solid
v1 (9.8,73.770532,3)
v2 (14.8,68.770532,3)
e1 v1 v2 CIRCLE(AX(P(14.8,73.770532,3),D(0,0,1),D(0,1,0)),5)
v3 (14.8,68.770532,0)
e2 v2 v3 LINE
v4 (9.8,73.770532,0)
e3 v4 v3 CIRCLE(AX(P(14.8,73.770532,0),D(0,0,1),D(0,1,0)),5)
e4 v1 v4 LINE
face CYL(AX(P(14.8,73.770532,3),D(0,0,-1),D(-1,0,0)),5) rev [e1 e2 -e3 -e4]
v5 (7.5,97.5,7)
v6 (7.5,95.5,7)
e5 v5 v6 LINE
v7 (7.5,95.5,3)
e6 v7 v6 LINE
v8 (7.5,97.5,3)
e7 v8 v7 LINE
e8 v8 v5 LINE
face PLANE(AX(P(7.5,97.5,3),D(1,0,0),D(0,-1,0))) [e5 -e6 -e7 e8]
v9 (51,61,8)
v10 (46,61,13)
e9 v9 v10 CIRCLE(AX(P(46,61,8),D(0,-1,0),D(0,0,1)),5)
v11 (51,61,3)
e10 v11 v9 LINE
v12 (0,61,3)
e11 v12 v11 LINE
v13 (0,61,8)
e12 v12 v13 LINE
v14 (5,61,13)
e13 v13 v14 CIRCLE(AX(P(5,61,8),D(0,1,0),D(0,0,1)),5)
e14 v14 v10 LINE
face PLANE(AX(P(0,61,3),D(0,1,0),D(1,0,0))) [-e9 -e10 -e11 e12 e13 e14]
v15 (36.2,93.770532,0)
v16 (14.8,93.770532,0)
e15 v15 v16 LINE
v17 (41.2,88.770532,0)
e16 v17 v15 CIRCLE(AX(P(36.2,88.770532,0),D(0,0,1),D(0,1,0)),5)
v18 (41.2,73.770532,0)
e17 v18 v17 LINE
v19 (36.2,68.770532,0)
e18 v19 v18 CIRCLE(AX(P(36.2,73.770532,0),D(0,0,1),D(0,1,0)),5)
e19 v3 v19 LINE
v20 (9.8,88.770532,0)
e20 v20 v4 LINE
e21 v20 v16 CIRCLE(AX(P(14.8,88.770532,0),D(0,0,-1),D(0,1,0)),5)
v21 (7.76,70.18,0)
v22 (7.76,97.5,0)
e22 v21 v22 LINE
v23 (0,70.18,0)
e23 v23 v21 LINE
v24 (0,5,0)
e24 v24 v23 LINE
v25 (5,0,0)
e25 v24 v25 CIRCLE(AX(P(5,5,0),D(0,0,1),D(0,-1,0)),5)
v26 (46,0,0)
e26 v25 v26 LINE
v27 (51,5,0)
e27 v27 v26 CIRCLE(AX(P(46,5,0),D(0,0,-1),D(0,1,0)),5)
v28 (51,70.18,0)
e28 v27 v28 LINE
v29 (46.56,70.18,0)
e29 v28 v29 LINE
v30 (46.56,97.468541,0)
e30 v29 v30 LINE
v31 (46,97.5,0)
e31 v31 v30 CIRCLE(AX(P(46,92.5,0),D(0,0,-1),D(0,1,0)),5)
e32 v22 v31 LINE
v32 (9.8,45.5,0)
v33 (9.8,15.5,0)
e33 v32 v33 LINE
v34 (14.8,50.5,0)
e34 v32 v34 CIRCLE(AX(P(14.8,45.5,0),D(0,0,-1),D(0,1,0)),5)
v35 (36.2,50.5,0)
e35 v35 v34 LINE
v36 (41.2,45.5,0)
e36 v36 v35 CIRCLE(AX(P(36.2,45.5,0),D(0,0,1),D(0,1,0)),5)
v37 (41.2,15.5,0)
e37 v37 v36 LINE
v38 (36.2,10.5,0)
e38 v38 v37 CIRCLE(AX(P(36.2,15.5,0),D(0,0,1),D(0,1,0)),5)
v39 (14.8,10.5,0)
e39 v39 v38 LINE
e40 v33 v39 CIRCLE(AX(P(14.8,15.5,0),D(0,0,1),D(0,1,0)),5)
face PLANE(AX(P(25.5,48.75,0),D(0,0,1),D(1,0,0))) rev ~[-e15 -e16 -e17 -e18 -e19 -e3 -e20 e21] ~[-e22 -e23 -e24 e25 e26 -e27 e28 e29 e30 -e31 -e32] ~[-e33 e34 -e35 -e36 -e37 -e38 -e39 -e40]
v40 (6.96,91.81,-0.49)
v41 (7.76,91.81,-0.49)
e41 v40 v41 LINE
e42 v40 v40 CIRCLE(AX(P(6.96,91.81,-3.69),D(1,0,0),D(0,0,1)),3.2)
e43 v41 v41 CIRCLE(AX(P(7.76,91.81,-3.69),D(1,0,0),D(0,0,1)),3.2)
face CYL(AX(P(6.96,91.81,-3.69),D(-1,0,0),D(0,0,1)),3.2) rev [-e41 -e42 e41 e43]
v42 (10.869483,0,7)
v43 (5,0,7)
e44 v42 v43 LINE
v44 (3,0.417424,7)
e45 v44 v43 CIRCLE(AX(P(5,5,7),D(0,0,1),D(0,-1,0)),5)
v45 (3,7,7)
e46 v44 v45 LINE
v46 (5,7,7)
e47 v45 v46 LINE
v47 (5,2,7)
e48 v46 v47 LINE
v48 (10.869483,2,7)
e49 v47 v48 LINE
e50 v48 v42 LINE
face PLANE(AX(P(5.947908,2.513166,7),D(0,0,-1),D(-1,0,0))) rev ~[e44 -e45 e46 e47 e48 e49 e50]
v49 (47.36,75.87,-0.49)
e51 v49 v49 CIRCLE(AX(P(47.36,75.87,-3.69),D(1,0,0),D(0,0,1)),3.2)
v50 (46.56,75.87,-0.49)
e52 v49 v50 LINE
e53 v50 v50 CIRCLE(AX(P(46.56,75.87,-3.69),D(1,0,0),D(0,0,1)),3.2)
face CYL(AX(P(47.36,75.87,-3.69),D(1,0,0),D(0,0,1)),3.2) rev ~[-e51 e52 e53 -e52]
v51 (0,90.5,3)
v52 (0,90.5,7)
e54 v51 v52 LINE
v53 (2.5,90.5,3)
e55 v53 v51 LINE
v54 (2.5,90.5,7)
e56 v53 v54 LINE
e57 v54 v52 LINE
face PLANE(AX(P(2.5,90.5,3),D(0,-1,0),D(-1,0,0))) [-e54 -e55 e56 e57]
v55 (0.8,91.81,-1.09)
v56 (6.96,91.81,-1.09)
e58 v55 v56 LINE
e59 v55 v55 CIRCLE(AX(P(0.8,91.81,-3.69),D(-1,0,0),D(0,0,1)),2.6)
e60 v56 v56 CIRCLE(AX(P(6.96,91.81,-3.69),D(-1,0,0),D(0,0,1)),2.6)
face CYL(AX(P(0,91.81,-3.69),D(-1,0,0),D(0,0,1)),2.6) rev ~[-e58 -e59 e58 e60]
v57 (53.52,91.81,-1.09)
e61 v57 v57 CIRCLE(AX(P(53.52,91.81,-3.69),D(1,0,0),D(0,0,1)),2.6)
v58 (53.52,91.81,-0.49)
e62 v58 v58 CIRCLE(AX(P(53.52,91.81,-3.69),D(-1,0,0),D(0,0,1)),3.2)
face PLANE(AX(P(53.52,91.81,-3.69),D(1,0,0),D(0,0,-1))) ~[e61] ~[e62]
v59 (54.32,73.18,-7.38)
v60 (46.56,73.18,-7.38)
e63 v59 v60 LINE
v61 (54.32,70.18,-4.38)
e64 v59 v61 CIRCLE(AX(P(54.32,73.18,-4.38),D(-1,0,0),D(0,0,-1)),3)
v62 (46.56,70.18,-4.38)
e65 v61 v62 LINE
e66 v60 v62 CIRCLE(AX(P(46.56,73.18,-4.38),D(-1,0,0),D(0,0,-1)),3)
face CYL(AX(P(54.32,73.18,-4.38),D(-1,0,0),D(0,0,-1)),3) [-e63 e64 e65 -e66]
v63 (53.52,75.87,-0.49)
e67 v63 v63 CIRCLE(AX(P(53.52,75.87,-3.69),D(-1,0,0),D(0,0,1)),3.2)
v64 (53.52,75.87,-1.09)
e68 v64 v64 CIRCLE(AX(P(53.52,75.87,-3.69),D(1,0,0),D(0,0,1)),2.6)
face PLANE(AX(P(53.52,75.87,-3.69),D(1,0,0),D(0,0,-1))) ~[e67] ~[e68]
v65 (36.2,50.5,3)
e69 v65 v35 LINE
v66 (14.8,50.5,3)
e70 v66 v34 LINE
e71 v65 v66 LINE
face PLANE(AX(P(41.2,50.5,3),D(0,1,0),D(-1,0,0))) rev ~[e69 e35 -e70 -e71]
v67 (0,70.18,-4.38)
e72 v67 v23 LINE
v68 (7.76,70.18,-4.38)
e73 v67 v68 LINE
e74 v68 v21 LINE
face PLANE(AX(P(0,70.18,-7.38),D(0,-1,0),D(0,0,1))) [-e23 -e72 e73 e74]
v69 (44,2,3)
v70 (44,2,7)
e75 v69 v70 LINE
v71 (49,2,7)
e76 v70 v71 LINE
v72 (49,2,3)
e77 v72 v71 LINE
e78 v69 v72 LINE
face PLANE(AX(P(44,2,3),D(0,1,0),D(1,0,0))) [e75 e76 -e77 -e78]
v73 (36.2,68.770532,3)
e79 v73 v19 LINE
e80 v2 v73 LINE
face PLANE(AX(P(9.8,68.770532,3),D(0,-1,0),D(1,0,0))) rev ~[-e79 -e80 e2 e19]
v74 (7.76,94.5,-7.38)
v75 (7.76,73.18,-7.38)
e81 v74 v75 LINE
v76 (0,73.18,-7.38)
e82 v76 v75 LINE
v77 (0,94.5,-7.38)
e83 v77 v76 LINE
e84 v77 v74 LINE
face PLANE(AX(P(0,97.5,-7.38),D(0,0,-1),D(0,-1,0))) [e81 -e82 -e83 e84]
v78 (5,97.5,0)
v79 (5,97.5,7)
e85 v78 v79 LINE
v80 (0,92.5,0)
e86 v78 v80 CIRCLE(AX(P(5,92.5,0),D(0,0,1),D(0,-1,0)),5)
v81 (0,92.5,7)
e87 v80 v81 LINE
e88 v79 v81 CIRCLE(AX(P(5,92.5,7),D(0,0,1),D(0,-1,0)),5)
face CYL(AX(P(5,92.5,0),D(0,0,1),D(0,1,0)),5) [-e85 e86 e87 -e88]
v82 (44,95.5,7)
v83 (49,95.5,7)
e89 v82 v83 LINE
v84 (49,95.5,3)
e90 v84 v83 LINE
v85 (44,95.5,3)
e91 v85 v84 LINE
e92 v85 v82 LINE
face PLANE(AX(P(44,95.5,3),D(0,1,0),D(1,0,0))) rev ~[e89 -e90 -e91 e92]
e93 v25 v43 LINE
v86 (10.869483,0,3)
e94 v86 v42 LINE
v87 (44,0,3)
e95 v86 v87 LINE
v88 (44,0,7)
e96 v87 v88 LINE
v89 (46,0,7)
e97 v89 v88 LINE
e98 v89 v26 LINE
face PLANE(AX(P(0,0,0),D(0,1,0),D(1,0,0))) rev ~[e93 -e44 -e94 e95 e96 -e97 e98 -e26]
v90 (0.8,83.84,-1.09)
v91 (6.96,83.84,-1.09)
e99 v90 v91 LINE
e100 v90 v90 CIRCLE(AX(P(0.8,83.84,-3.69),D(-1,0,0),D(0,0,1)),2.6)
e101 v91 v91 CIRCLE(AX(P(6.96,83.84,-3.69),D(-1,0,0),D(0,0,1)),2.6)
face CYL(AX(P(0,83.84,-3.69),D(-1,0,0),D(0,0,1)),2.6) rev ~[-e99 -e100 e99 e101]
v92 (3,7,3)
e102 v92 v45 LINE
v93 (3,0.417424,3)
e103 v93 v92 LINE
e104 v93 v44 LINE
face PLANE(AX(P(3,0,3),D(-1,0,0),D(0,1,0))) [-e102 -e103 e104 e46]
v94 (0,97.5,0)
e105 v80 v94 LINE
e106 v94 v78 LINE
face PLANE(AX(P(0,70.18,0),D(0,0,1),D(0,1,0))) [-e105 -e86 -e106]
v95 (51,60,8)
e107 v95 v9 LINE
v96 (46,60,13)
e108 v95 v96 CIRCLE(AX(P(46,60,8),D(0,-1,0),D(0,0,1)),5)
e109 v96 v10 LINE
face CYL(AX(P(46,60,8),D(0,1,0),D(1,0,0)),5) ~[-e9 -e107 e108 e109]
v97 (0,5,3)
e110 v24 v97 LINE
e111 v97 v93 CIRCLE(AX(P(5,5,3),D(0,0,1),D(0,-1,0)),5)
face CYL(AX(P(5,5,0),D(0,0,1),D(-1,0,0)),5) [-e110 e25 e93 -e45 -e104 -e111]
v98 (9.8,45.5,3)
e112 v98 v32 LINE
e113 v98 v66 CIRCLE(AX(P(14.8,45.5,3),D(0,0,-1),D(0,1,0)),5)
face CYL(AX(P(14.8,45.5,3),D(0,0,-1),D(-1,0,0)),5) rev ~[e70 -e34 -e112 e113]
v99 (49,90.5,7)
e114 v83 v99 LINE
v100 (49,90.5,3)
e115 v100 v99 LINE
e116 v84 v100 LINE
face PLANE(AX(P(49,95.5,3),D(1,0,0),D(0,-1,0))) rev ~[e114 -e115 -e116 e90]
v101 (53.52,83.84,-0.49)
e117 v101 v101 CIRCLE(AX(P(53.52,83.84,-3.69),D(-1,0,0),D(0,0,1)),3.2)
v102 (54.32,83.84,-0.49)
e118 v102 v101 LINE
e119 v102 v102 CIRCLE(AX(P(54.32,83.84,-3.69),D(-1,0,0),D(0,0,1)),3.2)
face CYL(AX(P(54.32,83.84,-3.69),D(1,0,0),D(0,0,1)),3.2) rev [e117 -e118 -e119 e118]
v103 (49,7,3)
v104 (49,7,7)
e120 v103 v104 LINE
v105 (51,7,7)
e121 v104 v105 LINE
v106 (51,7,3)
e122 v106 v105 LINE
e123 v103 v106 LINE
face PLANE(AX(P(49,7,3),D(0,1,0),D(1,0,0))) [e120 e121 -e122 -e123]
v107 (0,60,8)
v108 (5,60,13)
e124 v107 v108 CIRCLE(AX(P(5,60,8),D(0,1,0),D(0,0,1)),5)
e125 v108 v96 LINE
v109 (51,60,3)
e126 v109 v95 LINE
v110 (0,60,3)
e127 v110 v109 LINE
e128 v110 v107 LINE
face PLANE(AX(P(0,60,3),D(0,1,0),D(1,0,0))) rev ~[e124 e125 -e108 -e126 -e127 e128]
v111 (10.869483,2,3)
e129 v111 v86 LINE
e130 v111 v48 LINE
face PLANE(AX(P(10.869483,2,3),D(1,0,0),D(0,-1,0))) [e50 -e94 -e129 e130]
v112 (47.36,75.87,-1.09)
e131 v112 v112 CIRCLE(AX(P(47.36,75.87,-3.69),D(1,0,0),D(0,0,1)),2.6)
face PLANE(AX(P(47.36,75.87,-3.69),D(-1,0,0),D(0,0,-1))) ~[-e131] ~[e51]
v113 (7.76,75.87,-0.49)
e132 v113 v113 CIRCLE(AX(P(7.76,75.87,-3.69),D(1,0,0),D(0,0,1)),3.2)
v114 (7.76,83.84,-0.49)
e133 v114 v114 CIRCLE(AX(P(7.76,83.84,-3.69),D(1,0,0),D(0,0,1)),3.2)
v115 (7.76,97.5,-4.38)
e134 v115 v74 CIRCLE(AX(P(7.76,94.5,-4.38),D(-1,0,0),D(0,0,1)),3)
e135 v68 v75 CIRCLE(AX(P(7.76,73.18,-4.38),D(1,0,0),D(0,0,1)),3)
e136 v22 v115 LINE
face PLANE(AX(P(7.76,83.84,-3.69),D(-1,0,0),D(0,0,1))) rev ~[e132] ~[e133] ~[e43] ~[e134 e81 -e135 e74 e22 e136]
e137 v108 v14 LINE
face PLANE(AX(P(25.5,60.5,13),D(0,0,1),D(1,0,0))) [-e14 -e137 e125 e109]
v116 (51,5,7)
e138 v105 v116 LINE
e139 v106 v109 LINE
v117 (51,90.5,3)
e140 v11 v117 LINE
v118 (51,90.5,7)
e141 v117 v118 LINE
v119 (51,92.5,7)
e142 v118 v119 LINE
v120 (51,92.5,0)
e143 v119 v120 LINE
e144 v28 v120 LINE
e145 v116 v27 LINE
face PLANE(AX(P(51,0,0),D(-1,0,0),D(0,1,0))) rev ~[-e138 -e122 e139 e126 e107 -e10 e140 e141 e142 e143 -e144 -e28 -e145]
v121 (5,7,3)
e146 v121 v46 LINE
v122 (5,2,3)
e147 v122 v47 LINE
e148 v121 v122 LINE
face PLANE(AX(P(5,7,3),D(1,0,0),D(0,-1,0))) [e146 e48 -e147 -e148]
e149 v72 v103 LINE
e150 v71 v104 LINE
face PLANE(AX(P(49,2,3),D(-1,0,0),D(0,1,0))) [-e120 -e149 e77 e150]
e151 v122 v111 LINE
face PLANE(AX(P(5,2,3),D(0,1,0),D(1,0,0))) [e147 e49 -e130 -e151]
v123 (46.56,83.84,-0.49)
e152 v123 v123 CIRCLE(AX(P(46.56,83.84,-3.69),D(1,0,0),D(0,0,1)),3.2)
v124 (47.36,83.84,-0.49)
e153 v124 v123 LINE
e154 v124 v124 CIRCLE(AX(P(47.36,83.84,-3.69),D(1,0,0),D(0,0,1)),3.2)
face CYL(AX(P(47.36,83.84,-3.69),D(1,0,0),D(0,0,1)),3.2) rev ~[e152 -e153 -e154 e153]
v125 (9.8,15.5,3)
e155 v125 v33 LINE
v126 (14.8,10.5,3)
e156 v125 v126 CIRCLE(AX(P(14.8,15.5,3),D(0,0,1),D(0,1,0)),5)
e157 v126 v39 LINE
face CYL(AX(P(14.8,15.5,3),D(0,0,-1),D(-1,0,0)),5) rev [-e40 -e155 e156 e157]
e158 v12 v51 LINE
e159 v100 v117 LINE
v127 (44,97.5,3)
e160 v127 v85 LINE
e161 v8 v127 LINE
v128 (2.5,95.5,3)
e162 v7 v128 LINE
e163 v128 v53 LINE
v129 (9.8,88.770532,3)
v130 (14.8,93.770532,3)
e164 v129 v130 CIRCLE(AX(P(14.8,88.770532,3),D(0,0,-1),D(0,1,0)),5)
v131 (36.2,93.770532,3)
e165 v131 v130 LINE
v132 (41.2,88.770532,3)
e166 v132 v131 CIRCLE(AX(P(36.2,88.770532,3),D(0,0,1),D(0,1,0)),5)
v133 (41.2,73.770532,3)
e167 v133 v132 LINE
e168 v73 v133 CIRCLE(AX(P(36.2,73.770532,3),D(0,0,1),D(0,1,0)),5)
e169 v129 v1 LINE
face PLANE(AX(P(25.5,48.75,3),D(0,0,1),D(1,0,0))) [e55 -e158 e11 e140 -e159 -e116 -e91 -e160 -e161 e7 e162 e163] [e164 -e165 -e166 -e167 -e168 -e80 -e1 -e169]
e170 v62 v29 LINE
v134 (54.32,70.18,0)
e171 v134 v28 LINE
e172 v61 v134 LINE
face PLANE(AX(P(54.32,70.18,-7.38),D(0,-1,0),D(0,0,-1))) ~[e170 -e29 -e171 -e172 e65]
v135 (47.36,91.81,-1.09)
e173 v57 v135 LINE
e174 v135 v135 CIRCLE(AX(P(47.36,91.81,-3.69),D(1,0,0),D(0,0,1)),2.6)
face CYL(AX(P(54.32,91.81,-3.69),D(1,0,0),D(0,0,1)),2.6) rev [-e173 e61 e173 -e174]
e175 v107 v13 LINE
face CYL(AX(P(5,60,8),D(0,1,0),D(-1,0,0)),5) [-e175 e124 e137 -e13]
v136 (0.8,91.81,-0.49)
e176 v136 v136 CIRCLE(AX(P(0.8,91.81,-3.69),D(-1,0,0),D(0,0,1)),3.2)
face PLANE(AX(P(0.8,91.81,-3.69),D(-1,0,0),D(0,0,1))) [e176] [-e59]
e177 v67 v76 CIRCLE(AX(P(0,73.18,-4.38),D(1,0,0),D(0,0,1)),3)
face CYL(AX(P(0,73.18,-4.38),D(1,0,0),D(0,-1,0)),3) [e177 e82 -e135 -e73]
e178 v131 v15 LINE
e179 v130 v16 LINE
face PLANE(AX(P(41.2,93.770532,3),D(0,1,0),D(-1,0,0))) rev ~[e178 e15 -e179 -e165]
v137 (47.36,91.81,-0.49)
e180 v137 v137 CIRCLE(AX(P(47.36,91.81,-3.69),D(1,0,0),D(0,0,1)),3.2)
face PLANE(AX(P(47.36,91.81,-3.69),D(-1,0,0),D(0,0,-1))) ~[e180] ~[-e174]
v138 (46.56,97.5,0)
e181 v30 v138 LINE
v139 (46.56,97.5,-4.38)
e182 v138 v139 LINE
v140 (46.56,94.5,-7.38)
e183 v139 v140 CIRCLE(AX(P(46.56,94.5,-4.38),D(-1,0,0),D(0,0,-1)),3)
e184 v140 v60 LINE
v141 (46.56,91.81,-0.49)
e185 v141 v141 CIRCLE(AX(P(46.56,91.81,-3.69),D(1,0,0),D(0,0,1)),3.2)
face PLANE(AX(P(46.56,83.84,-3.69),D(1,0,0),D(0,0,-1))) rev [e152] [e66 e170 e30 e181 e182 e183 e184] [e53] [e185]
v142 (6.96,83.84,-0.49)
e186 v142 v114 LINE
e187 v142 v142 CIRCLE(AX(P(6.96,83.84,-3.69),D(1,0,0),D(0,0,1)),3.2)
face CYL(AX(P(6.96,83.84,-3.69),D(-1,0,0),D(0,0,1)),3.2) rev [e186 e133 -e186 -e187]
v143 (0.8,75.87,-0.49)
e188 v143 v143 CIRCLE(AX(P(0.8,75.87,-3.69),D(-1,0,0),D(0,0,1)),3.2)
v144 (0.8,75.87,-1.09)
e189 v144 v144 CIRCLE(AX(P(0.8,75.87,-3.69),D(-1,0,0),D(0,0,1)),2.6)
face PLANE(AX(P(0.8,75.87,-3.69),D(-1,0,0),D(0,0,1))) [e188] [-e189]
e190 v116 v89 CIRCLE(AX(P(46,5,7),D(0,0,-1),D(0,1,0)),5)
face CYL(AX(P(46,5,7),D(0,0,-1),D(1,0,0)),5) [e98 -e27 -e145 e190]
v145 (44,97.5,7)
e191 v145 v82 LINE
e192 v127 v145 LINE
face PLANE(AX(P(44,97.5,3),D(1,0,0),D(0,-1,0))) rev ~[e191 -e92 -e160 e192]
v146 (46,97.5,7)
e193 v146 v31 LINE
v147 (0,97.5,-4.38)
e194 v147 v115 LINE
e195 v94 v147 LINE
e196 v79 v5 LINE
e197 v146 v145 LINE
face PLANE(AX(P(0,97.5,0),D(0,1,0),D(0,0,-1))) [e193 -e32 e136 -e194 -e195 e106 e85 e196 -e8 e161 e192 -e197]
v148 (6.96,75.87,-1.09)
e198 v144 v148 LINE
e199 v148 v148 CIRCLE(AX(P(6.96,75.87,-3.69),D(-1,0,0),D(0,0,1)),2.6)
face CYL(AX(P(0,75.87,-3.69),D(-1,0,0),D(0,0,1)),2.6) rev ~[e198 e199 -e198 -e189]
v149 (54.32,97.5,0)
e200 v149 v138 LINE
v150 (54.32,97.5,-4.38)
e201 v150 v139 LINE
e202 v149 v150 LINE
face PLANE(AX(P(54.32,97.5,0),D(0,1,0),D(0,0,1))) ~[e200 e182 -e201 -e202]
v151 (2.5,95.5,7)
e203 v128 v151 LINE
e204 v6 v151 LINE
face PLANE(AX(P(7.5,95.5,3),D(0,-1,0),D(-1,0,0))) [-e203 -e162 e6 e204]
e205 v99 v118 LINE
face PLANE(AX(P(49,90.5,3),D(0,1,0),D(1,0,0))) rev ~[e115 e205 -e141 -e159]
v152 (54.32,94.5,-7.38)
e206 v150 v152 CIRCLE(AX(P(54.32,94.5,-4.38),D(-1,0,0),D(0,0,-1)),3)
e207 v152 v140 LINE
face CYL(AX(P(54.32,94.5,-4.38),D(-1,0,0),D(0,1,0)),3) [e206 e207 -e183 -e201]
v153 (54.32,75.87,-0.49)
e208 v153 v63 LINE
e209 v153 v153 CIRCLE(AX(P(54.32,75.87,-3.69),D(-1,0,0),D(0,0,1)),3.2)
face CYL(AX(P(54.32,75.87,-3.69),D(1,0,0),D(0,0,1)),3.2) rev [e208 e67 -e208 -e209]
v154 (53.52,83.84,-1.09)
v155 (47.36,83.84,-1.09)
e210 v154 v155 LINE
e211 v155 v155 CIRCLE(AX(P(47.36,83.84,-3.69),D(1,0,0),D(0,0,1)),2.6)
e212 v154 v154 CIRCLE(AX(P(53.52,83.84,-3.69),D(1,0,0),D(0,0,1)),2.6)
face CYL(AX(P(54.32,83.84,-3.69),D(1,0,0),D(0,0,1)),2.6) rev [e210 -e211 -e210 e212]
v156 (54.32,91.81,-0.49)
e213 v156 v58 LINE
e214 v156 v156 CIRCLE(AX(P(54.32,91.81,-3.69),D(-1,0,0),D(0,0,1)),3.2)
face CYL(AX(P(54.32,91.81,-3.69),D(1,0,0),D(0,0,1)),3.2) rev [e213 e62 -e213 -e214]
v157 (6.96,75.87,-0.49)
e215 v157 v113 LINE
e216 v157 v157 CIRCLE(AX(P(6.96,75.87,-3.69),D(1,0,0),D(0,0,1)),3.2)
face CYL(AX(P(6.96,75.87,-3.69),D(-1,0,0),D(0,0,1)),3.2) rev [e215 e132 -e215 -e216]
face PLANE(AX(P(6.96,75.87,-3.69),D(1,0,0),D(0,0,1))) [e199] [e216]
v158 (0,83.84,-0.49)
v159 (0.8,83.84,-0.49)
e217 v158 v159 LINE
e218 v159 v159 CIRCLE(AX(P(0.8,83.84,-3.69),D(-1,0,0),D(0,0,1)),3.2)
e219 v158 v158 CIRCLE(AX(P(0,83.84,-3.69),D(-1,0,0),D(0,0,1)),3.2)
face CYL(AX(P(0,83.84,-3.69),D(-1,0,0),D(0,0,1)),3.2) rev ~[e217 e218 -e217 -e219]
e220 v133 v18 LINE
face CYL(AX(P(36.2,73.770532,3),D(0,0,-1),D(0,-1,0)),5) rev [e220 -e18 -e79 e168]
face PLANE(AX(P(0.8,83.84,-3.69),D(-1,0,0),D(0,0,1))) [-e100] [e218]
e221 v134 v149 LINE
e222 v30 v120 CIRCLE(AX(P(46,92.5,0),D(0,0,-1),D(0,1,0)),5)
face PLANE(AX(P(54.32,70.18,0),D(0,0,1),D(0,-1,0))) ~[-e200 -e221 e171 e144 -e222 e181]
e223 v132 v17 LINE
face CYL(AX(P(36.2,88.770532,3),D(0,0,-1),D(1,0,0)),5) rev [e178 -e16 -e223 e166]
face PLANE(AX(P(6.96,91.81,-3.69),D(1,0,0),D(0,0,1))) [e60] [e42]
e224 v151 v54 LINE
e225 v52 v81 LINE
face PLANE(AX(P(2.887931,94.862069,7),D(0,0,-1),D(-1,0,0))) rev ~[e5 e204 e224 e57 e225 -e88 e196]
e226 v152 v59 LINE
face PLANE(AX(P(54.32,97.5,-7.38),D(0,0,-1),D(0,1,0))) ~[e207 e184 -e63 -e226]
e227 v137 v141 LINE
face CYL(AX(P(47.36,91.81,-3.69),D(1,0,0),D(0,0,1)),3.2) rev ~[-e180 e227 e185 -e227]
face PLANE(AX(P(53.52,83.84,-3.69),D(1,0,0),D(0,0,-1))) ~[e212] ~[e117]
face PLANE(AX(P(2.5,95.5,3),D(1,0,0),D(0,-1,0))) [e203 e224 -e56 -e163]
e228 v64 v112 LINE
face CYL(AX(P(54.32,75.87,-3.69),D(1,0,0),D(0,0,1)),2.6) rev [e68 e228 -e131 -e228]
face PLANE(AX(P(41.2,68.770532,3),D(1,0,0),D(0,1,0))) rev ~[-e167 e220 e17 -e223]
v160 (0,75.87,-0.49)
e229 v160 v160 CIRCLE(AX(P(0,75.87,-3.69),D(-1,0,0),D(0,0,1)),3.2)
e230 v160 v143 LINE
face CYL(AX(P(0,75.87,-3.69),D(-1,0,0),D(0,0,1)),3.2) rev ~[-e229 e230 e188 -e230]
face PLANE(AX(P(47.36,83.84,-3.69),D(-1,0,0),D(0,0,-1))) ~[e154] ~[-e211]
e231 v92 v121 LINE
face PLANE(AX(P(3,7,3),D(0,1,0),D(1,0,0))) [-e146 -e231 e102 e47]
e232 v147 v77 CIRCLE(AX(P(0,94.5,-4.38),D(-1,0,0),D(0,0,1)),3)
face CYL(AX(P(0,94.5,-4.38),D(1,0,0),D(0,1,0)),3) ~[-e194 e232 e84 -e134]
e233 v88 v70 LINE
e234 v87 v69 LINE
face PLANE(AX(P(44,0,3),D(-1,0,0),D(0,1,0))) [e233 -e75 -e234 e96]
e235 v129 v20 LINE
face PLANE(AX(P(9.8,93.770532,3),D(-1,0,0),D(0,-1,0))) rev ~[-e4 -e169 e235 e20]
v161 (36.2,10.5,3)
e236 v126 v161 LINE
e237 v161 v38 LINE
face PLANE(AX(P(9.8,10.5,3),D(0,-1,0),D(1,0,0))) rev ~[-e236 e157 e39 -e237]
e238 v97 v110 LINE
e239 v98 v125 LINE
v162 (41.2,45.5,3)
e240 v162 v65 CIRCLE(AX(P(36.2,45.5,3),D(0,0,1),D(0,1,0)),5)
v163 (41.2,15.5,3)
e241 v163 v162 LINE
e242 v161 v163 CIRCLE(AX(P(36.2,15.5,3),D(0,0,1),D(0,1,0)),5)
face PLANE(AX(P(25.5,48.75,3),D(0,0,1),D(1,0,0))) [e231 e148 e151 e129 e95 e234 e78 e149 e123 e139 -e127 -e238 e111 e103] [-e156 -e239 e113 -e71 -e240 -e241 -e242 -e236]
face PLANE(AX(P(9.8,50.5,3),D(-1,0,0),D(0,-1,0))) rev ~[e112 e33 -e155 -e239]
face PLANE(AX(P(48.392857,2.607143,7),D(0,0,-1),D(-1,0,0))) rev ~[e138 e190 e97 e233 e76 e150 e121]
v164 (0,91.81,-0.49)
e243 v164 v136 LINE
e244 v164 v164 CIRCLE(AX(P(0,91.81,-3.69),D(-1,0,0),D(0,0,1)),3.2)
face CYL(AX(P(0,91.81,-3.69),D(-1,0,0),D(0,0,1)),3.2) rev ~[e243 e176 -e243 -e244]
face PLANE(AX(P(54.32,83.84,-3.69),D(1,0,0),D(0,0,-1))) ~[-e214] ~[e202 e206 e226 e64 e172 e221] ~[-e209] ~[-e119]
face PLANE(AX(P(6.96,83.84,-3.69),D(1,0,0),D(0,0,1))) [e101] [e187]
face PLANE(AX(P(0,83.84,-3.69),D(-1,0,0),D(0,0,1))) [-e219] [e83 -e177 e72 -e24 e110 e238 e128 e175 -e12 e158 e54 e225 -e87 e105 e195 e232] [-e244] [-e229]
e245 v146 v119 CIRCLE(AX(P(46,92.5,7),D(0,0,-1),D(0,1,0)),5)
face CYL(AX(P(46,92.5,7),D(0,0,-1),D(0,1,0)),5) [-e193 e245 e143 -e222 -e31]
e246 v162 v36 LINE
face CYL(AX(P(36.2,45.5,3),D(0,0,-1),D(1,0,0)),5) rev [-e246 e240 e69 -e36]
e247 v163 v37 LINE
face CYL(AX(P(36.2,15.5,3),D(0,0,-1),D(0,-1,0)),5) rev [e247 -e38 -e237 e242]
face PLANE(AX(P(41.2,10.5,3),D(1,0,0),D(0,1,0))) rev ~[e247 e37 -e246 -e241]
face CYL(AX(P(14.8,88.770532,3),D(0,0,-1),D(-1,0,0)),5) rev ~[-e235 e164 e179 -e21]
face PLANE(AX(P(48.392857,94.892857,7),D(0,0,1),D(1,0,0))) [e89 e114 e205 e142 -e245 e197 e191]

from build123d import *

# Parameters (mm, degrees)
SKETCH1_W           = 51
SKETCH1_H           = 97.5
BOSS_EXTRUDE2_DEPTH = 3
BOSS_EXTRUDE3_DEPTH = 4
BOSS_EXTRUDE4_DEPTH = 4
SKETCH5_W           = 51
SKETCH5_H           = 1
BOSS_EXTRUDE5_DEPTH = 10
CUT_EXTRUDE1_DEPTH  = 10
FILLET1_R           = 5
SKETCH8_R           = 2.6
BOSS_EXTRUDE6_DEPTH = 7.76
SKETCH9_R           = 3.2
CUT_EXTRUDE2_DEPTH  = 0.8
CUT_EXTRUDE3_START  = -0.8
SKETCH10_R          = 3.2
CUT_EXTRUDE3_DEPTH  = 0.8
FILLET2_R           = 3


with BuildPart() as part:
    # Sketch1 → Boss-Extrude2 (new body)
    with BuildSketch(Plane.XY):
        with Locations((25.5, 48.75)):
            Rectangle(SKETCH1_W, SKETCH1_H)
    extrude(amount=BOSS_EXTRUDE2_DEPTH)

    # Sketch3 → Boss-Extrude3 (add)
    with BuildSketch(Plane.XY.offset(3)):
        Polygon((0, 97.5), (7.5, 97.5), (7.5, 95.5), (2.5, 95.5), (2.5, 90.5), (0, 90.5), align=None)
        Polygon((51, 97.5), (44, 97.5), (44, 95.5), (49, 95.5), (49, 90.5), (51, 90.5), align=None)
        Polygon((51, 0), (44, 0), (44, 2), (49, 2), (49, 7), (51, 7), align=None)
    extrude(amount=BOSS_EXTRUDE3_DEPTH)

    # Sketch4 → Boss-Extrude4 (add)
    with BuildSketch(Plane.XY.offset(3)):
        Polygon((3, 0), (3, 7), (5, 7), (5, 2), (10.869482621, 2), (10.869482621, 0), align=None)
    extrude(amount=BOSS_EXTRUDE4_DEPTH)

    # Sketch5 → Boss-Extrude5 (add)
    with BuildSketch(Plane.XY.offset(3)):
        with Locations((25.5, 60.5)):
            Rectangle(SKETCH5_W, SKETCH5_H)
    extrude(amount=BOSS_EXTRUDE5_DEPTH)

    # Sketch6 → Cut-Extrude1 (cut)
    with BuildSketch(Plane.XY.offset(3)):
        Polygon((39.8, 93.770532131), (9.8, 93.770532131), (9.8, 68.770532131), (41.2, 68.770532131), (41.2, 93.770532131), align=None)
        Polygon((39.8, 50.5), (9.8, 50.5), (9.8, 10.5), (41.2, 10.5), (41.2, 50.5), align=None)
    extrude(amount=-CUT_EXTRUDE1_DEPTH, mode=Mode.SUBTRACT)

    # Fillet1
    fillet1_edges = [part.edges().sort_by_distance(p)[0] for p in [
        (0, 60.5, 13),
        (51, 60.5, 13),
        (9.8, 50.5, 1.5),
        (9.8, 93.770532131, 1.5),
        (41.2, 93.770532131, 1.5),
        (41.2, 10.5, 1.5),
        (9.8, 10.5, 1.5),
        (41.2, 50.5, 1.5),
        (51, 0, 3.5),
        (51, 97.5, 3.5),
        (0, 97.5, 3.5),
        (9.8, 68.770532131, 1.5),
        (41.2, 68.770532131, 1.5),
        (0, 0, 1.5),
    ]]
    fillet(fillet1_edges, radius=FILLET1_R)

    # Sketch8 → Boss-Extrude6 (add)
    with BuildSketch(Plane.ZY):
        Polygon((0, 81.56), (0, 89.53), (0, 92.5), (0, 97.5), (-7.38, 97.5), (-7.38, 70.18), (0, 70.18), align=None)
        with Locations((-3.69, 75.87)):
            Circle(SKETCH8_R, mode=Mode.SUBTRACT)
        with Locations((-3.69, 91.81)):
            Circle(SKETCH8_R, mode=Mode.SUBTRACT)
        with Locations((-3.69, 83.84)):
            Circle(SKETCH8_R, mode=Mode.SUBTRACT)
    boss_extrude6 = extrude(amount=-BOSS_EXTRUDE6_DEPTH)

    # Sketch9 → Cut-Extrude2 (cut)
    with BuildSketch(Plane.ZY):
        with Locations((-3.69, 91.81)):
            Circle(SKETCH9_R)
        with Locations((-3.69, 83.84)):
            Circle(SKETCH9_R)
        with Locations((-3.69, 75.87)):
            Circle(SKETCH9_R)
    cut_extrude2 = extrude(amount=-CUT_EXTRUDE2_DEPTH, mode=Mode.SUBTRACT)

    # Sketch10 → Cut-Extrude3 (cut)
    with BuildSketch(Plane(origin=(7.76, 0, 0), x_dir=(0, 0, -1), z_dir=(1, 0, 0)).offset(CUT_EXTRUDE3_START)):
        with Locations(Location((3.69, 91.81, 0), (0, 0, 180))):
            Circle(SKETCH10_R)
        with Locations(Location((3.69, 83.84, 0), (0, 0, 180))):
            Circle(SKETCH10_R)
        with Locations(Location((3.69, 75.87, 0), (0, 0, 180))):
            Circle(SKETCH10_R)
    cut_extrude3 = extrude(amount=CUT_EXTRUDE3_DEPTH, mode=Mode.SUBTRACT)

    # Mirror2: Boss-Extrude6, Cut-Extrude2, Cut-Extrude3 across plane
    add(boss_extrude6.mirror(Plane(origin=(27.16, 0, 0), x_dir=(0, 0, 1), z_dir=(1, 0, 0))))
    add(cut_extrude2.mirror(Plane(origin=(27.16, 0, 0), x_dir=(0, 0, 1), z_dir=(1, 0, 0))), mode=Mode.SUBTRACT)
    add(cut_extrude3.mirror(Plane(origin=(27.16, 0, 0), x_dir=(0, 0, 1), z_dir=(1, 0, 0))), mode=Mode.SUBTRACT)

    # Fillet2
    fillet2_edges = [part.edges().sort_by_distance(p)[0] for p in [
        (3.88, 97.5, -7.38),
        (3.88, 70.18, -7.38),
        (50.44, 97.5, -7.38),
        (50.44, 70.18, -7.38),
    ]]
    fillet(fillet2_edges, radius=FILLET2_R)


solid = part.part
